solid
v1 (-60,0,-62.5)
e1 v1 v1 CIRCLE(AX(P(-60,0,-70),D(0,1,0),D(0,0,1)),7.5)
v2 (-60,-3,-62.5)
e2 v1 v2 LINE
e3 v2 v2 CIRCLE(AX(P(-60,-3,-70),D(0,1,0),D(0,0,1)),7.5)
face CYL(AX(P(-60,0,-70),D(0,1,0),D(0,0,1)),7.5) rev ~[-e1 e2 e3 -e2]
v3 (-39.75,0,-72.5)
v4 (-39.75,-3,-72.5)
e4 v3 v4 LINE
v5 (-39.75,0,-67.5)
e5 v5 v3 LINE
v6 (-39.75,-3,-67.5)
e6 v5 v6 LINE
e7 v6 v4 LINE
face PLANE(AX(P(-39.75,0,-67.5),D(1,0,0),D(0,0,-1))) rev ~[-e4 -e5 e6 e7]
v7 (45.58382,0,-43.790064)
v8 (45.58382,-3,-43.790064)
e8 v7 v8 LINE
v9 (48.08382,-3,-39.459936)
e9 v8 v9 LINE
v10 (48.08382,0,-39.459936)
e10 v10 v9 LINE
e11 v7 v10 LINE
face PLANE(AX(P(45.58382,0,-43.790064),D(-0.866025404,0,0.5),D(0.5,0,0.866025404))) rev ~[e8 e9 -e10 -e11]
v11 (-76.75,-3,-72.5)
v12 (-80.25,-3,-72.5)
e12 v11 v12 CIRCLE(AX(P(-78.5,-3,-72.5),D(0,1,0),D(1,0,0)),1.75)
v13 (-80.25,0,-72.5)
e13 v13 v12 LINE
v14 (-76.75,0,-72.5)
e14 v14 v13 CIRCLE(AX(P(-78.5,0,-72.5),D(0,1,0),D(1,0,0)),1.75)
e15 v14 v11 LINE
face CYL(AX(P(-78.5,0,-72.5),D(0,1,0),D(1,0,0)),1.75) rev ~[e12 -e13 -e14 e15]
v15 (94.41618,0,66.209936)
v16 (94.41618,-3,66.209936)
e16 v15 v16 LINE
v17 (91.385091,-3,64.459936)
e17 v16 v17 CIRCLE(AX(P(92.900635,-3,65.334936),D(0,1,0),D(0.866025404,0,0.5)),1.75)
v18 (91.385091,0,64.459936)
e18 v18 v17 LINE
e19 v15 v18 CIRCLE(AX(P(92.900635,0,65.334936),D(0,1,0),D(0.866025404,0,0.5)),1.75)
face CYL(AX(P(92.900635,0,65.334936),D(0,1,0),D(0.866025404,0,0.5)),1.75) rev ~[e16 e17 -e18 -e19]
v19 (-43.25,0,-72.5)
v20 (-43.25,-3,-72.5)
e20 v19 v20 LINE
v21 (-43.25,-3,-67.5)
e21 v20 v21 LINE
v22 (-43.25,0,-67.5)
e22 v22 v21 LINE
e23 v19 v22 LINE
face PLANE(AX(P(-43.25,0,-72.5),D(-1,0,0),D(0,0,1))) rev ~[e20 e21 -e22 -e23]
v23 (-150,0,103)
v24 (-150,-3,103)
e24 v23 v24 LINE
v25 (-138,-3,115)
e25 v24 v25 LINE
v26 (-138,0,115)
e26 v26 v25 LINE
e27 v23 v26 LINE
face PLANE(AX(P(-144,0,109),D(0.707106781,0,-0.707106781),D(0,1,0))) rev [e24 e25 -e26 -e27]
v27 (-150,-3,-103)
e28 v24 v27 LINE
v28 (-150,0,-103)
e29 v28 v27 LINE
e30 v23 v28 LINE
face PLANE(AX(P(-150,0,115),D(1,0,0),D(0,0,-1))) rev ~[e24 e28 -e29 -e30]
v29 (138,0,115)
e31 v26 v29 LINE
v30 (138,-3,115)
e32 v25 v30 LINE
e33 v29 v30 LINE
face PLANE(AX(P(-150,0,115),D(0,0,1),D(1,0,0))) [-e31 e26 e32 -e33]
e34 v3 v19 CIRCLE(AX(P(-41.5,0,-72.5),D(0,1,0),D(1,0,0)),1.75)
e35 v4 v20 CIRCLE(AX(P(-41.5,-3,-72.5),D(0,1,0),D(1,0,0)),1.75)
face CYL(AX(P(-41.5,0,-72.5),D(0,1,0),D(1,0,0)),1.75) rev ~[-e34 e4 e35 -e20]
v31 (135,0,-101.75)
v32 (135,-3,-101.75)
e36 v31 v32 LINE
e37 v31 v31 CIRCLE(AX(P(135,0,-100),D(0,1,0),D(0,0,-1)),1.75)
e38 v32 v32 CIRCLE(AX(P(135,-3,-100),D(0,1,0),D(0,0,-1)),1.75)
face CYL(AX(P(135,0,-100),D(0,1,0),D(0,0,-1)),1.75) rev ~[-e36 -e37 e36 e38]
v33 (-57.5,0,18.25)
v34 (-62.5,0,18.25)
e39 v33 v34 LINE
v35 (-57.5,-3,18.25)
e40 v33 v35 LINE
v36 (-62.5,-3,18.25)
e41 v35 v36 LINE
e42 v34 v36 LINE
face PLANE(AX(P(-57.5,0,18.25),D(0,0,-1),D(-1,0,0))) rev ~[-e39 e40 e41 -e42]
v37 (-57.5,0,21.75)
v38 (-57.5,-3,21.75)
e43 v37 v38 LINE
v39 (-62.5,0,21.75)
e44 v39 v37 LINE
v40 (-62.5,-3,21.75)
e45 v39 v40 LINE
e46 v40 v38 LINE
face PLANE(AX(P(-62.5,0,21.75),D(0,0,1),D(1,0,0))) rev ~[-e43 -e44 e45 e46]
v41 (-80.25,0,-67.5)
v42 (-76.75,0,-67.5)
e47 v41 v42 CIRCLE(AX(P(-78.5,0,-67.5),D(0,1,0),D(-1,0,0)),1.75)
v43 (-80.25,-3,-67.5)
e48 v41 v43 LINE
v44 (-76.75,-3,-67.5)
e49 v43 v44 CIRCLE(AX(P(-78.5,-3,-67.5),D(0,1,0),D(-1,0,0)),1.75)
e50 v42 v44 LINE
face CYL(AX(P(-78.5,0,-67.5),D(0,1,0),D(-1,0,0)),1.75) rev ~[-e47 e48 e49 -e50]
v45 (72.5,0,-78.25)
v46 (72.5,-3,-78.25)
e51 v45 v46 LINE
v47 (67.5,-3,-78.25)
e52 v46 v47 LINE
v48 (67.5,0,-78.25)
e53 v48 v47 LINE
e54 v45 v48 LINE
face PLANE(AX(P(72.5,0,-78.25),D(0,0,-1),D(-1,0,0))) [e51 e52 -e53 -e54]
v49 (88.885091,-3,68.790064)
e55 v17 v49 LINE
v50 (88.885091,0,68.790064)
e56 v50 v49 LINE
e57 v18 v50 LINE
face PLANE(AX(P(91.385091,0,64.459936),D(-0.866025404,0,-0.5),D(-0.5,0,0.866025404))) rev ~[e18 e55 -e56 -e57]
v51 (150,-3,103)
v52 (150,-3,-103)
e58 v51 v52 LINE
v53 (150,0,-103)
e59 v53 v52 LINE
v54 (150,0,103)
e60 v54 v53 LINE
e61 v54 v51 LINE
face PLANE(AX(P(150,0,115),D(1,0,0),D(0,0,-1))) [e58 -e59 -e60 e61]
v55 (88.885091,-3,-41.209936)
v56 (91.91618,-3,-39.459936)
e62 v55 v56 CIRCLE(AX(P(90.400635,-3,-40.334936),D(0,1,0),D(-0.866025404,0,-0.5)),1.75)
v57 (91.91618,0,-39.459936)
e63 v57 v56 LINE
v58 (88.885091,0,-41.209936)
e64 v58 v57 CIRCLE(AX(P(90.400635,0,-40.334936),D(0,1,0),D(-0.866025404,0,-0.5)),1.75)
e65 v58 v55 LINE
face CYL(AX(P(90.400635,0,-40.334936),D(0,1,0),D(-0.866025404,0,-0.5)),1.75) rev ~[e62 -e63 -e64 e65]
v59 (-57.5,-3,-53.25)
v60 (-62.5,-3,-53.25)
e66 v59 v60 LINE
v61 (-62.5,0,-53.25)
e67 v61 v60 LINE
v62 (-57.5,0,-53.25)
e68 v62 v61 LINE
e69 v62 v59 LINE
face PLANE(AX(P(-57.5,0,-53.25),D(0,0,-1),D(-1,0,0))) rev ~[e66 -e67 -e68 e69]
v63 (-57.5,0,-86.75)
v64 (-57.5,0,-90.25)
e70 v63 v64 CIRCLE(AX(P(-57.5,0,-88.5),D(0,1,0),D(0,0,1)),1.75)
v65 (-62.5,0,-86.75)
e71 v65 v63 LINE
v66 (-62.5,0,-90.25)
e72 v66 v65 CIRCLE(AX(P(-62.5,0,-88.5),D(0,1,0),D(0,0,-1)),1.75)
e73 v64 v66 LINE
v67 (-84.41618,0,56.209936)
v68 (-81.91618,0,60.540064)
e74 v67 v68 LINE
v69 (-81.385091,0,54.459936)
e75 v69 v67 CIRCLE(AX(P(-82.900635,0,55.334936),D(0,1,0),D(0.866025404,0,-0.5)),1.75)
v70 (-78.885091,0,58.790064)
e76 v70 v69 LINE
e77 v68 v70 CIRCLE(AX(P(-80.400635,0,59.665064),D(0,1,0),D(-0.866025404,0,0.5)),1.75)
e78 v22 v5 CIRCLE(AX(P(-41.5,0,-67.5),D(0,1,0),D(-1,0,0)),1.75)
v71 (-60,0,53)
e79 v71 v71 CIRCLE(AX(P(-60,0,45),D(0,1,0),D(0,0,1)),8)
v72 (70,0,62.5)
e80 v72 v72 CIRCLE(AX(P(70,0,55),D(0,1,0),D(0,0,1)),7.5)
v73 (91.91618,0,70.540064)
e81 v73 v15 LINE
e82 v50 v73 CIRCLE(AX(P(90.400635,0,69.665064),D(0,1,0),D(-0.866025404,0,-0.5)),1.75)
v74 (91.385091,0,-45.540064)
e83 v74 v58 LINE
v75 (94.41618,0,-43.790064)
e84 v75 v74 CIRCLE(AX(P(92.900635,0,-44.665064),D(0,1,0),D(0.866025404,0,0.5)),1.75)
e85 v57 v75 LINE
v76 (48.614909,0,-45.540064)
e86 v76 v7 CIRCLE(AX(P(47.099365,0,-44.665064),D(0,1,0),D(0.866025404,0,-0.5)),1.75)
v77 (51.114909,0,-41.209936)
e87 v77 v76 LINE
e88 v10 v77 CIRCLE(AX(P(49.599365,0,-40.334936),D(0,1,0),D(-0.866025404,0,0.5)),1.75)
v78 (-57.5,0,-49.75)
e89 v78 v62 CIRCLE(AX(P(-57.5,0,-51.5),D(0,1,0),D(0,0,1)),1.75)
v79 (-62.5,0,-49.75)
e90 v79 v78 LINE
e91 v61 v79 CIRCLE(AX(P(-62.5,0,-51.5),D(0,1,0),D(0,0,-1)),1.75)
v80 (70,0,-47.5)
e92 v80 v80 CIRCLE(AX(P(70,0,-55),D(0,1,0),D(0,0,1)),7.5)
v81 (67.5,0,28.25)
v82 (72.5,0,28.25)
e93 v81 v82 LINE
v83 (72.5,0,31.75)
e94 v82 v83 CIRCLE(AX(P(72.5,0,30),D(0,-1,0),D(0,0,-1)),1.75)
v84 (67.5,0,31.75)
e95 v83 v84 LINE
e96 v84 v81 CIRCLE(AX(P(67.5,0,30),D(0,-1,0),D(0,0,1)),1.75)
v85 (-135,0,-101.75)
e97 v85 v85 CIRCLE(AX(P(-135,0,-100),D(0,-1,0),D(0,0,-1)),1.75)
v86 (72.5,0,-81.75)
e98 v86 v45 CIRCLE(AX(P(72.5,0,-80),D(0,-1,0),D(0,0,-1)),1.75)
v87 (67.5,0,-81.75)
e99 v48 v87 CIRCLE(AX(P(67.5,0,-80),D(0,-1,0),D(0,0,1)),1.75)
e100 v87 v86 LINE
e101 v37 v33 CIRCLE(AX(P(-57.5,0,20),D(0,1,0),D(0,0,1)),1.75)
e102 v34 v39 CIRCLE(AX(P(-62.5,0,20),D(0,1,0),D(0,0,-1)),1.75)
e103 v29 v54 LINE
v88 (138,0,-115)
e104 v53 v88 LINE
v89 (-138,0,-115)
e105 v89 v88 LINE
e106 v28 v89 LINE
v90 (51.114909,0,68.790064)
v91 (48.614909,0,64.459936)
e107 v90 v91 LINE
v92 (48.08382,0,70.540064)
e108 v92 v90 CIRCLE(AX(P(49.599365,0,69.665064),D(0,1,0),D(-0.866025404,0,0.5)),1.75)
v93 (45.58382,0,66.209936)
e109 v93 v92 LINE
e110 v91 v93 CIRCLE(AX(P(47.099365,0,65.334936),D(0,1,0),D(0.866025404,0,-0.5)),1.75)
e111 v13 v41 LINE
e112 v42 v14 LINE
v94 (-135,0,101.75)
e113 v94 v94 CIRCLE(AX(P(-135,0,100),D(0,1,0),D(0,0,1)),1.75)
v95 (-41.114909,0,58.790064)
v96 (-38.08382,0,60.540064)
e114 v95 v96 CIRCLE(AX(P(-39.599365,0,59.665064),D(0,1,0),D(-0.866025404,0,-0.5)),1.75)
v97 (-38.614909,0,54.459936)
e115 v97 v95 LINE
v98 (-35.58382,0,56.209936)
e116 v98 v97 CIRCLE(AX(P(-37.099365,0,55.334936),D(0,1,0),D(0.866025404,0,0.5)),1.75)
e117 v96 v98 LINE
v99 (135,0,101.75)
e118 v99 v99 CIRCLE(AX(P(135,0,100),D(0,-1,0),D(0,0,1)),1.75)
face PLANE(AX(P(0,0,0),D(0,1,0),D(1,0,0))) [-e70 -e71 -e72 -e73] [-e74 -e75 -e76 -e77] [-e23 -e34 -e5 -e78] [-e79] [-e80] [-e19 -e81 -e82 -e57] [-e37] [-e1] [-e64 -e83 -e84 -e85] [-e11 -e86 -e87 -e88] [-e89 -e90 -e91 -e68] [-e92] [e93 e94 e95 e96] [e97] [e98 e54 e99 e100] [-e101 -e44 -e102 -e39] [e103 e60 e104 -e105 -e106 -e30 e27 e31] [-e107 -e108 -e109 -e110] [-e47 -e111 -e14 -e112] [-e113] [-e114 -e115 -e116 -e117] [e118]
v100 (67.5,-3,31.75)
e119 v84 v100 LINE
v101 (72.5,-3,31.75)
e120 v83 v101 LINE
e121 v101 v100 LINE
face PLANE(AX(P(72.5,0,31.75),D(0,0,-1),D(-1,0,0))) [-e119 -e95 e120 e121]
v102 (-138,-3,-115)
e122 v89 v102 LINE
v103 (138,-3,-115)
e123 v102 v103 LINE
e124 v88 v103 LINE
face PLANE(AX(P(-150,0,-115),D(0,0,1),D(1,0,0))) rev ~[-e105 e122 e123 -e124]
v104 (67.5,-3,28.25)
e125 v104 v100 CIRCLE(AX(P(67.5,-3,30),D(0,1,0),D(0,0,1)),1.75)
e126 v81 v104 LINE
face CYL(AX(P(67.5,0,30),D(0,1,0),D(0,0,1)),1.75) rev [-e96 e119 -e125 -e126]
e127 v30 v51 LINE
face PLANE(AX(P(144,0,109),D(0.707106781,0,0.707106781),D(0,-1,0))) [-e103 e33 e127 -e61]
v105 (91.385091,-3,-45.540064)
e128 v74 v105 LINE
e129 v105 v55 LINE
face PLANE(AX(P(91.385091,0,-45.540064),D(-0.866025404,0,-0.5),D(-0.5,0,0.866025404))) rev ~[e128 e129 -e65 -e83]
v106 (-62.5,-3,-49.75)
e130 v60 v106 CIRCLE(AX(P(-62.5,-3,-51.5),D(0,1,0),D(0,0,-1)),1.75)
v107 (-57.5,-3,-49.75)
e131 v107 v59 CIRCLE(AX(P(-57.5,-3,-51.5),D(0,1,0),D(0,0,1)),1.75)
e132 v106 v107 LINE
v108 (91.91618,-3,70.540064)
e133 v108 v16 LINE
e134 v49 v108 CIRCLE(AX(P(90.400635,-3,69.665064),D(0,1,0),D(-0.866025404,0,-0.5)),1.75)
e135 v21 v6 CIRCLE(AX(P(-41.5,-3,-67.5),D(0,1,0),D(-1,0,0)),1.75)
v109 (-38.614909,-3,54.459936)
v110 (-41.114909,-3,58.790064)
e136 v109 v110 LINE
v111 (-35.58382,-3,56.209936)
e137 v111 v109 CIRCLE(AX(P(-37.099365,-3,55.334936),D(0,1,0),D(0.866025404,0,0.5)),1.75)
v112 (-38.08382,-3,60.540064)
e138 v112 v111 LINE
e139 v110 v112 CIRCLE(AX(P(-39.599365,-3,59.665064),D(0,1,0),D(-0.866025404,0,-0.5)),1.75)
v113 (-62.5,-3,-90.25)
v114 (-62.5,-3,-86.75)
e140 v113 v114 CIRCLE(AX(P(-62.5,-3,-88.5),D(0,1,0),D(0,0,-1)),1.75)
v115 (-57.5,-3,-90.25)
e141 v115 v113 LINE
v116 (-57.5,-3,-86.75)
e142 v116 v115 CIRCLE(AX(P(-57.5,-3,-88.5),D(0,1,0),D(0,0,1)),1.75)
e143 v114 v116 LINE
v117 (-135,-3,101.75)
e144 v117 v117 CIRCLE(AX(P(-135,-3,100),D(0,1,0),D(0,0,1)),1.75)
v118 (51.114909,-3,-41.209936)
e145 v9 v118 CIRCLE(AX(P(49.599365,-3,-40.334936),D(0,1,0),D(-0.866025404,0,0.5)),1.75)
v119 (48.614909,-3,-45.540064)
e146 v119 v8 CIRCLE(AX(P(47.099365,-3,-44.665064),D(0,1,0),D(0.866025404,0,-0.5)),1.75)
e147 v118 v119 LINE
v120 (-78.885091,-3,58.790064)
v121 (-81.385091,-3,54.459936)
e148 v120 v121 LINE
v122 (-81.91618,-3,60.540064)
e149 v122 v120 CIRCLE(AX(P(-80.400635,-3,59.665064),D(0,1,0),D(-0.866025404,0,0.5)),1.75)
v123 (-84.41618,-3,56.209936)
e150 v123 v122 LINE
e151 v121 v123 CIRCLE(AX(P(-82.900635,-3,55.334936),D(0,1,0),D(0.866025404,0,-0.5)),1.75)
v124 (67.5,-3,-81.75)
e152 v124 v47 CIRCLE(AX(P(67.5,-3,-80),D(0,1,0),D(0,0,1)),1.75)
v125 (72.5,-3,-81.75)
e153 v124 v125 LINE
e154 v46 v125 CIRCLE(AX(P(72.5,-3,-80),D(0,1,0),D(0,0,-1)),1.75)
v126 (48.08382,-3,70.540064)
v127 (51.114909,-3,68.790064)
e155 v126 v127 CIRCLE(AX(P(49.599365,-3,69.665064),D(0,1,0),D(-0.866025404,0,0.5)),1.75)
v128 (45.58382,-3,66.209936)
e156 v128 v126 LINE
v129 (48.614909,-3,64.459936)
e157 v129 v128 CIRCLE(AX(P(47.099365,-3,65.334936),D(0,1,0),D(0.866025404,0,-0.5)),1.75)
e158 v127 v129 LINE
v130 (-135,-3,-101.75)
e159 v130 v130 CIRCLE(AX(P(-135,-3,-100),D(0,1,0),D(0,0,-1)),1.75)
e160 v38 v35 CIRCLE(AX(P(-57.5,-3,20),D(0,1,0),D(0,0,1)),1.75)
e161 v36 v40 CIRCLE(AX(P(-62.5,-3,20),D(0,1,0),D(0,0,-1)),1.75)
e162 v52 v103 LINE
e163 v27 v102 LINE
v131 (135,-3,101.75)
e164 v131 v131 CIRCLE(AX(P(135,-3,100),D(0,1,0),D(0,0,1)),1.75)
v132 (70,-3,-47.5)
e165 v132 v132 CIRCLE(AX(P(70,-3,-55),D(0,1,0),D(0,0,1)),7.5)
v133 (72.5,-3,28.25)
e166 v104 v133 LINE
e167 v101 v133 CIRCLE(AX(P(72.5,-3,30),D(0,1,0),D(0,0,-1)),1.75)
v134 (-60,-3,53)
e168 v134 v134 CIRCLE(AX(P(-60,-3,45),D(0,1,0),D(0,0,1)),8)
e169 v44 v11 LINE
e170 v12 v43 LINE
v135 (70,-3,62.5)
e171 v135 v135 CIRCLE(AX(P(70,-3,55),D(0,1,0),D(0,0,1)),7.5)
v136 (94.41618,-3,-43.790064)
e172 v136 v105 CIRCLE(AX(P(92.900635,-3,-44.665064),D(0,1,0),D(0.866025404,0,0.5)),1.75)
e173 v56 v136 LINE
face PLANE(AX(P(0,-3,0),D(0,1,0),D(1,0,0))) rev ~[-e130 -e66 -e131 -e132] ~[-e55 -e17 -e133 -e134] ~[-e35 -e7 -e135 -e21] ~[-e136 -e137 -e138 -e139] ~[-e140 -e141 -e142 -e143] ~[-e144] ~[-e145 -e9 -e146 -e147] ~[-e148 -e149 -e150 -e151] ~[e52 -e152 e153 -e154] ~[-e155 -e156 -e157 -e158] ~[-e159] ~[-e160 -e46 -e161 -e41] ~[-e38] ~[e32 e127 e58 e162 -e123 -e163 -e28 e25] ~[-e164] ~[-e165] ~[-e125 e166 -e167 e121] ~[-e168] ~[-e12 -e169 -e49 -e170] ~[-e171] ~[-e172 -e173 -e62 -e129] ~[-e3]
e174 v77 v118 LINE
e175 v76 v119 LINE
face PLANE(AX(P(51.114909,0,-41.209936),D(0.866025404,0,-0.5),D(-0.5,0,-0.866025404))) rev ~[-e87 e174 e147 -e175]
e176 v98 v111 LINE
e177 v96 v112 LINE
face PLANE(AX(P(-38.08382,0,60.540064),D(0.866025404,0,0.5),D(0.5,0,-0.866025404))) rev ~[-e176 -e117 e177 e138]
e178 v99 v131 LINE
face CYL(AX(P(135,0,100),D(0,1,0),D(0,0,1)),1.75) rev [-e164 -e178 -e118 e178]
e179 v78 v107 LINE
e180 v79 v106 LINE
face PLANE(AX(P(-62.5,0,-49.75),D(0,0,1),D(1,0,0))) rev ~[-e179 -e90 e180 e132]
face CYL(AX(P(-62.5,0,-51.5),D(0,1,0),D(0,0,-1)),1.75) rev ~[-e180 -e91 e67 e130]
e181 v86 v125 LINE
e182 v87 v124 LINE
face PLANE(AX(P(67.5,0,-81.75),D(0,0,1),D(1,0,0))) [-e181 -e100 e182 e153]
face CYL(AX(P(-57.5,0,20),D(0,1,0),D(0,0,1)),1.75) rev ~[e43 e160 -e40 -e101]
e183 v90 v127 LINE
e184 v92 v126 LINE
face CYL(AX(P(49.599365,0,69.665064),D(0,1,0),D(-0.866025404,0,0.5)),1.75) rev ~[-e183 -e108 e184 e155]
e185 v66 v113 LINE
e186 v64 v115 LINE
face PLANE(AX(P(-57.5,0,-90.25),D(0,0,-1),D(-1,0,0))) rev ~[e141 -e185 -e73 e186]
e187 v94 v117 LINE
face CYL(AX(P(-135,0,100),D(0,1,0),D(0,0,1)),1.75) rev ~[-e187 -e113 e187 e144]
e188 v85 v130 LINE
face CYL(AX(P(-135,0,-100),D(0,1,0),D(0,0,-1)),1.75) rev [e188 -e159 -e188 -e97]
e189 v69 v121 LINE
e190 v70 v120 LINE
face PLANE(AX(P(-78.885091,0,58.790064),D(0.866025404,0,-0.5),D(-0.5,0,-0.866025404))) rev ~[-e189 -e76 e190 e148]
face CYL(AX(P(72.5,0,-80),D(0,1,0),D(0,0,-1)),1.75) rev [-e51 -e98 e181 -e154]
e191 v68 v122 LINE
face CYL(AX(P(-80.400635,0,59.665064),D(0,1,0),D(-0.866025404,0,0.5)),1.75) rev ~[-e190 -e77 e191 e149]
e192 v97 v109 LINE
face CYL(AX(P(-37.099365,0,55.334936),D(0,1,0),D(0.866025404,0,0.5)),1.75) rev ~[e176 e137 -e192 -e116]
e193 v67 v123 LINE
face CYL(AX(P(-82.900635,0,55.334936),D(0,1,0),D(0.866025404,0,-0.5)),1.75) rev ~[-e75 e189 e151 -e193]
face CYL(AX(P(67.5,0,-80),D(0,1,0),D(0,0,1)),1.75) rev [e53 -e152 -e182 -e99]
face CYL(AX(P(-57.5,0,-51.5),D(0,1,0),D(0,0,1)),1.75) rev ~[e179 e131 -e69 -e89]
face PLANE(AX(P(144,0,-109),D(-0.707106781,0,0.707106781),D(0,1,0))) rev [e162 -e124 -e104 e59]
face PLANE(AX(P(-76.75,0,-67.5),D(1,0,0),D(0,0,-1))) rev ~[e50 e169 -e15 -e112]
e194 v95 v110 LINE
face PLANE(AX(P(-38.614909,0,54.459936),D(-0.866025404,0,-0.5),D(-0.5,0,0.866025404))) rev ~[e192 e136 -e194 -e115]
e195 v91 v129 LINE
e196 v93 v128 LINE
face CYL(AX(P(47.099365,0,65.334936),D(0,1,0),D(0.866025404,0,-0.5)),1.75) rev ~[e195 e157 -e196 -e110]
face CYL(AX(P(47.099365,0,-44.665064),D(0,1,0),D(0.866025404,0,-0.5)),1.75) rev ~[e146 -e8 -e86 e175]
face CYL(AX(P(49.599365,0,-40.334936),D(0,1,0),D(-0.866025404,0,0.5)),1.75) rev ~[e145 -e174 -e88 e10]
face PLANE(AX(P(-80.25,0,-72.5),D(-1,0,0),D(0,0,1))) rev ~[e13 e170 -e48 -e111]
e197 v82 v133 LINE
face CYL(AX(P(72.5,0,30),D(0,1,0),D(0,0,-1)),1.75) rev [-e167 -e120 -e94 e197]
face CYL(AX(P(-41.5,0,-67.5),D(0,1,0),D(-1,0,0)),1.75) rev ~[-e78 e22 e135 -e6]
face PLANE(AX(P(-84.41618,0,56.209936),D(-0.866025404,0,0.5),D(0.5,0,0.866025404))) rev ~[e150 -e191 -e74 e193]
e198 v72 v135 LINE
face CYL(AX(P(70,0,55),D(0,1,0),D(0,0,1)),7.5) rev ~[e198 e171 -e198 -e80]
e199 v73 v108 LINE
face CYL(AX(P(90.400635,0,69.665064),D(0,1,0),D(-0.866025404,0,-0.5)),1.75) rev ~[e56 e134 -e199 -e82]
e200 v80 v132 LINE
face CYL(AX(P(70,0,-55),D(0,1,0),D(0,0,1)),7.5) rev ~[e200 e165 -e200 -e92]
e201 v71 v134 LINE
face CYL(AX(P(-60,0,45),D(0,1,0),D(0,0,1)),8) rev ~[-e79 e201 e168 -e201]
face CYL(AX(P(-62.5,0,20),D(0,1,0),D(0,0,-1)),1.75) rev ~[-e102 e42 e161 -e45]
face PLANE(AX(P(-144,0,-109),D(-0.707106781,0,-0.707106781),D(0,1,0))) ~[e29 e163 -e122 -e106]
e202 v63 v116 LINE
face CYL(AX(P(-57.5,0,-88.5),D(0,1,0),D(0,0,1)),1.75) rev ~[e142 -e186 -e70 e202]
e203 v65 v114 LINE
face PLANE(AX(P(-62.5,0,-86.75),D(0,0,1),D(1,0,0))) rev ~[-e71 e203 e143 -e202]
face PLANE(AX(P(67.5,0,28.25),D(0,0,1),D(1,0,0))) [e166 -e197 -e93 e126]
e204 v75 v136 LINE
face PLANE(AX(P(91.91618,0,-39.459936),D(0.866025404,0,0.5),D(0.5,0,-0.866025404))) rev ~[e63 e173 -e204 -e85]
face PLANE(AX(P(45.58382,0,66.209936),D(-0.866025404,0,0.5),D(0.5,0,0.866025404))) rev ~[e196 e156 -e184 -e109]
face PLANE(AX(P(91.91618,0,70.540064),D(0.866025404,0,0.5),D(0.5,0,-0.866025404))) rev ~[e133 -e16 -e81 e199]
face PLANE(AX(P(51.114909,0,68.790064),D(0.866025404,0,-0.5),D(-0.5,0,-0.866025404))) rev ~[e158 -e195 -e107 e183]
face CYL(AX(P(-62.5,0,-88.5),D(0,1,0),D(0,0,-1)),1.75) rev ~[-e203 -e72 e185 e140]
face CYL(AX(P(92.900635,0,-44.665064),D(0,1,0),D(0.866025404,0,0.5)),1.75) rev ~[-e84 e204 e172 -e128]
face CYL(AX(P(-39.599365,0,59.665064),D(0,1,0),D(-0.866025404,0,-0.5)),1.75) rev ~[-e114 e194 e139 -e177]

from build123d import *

# Parameters (mm, degrees)
ESBO_O1_W                 = 300
ESBO_O1_H                 = 230
RESSALTO_EXTRUS_O1_DEPTH  = 3
CHANFRO1_SIZE             = 12
ESBO_O4_R                 = 8
ESBO_O4_R_2               = 7.5
CORTE_EXTRUS_O1_DEPTH     = 190.034388406
ESBO_O5_R                 = 1.75
CORTE_EXTRUS_O2_DEPTH     = 190.034388406
ESPELHAR2_COPY_1_SKETCH_R = 1.75
ESPELHAR2_COPY_1_DEPTH    = 190.034388406


with BuildPart() as part:
    # Esboço1 → Ressalto-extrusão1 (new body)
    with BuildSketch(Plane(origin=(0, 0, 0), x_dir=(1, 0, 0), z_dir=(0, 1, 0))):
        Rectangle(ESBO_O1_W, ESBO_O1_H)
    extrude(amount=-RESSALTO_EXTRUS_O1_DEPTH)

    # Chanfro1
    chanfro1_edges = [part.edges().sort_by_distance(p)[0] for p in [
        (150, -1.5, 115),
        (-150, -1.5, 115),
        (-150, -1.5, -115),
        (150, -1.5, -115),
    ]]
    chamfer(chanfro1_edges, length=CHANFRO1_SIZE)

    # Esboço4 → Corte-extrusão1 (cut, through all)
    with BuildSketch(Plane(origin=(0, 0, 0), x_dir=(1, 0, 0), z_dir=(0, 1, 0))):
        with Locations(Location((-60, -45, 0), (0, 0, 270))):
            Circle(ESBO_O4_R)
        with Locations(Location((70, -55, 0), (0, 0, 270))):
            Circle(ESBO_O4_R_2)
        with Locations(Location((70, 55, 0), (0, 0, 270))):
            Circle(ESBO_O4_R_2)
        with Locations(Location((-60, 70, 0), (0, 0, 270))):
            Circle(ESBO_O4_R_2)
        with BuildLine():
            Line((-62.5, -21.75), (-57.5, -21.75))
            ThreePointArc((-57.5, -21.75), (-55.75, -20), (-57.5, -18.25))
            Line((-57.5, -18.25), (-62.5, -18.25))
            ThreePointArc((-62.5, -18.25), (-64.25, -20), (-62.5, -21.75))
        make_face()
        with BuildLine():
            Line((-38.614909362, -54.459936491), (-41.114909362, -58.790063509))
            ThreePointArc((-41.114909362, -58.790063509), (-40.474364905, -61.180607966), (-38.083820449, -60.540063509))
            Line((-38.083820449, -60.540063509), (-35.583820449, -56.209936491))
            ThreePointArc((-35.583820449, -56.209936491), (-36.224364905, -53.819392034), (-38.614909362, -54.459936491))
        make_face()
        with BuildLine():
            Line((-78.885090638, -58.790063509), (-81.385090638, -54.459936491))
            ThreePointArc((-81.385090638, -54.459936491), (-83.775635095, -53.819392034), (-84.416179551, -56.209936491))
            Line((-84.416179551, -56.209936491), (-81.916179551, -60.540063509))
            ThreePointArc((-81.916179551, -60.540063509), (-79.525635095, -61.180607966), (-78.885090638, -58.790063509))
        make_face()
        with BuildLine():
            Line((67.5, -28.25), (72.5, -28.25))
            ThreePointArc((72.5, -28.25), (74.25, -30), (72.5, -31.75))
            Line((72.5, -31.75), (67.5, -31.75))
            ThreePointArc((67.5, -31.75), (65.75, -30), (67.5, -28.25))
        make_face()
        with BuildLine():
            Line((91.385090638, -64.459936491), (88.885090638, -68.790063509))
            ThreePointArc((88.885090638, -68.790063509), (89.525635095, -71.180607966), (91.916179551, -70.540063509))
            Line((91.916179551, -70.540063509), (94.416179551, -66.209936491))
            ThreePointArc((94.416179551, -66.209936491), (93.775635095, -63.819392034), (91.385090638, -64.459936491))
        make_face()
        with BuildLine():
            Line((51.114909362, -68.790063509), (48.614909362, -64.459936491))
            ThreePointArc((48.614909362, -64.459936491), (46.224364905, -63.819392034), (45.583820449, -66.209936491))
            Line((45.583820449, -66.209936491), (48.083820449, -70.540063509))
            ThreePointArc((48.083820449, -70.540063509), (50.474364905, -71.180607966), (51.114909362, -68.790063509))
        make_face()
        with BuildLine():
            Line((67.5, 81.75), (72.5, 81.75))
            ThreePointArc((72.5, 81.75), (74.25, 80), (72.5, 78.25))
            Line((72.5, 78.25), (67.5, 78.25))
            ThreePointArc((67.5, 78.25), (65.75, 80), (67.5, 81.75))
        make_face()
        with BuildLine():
            Line((91.385090638, 45.540063509), (88.885090638, 41.209936491))
            ThreePointArc((88.885090638, 41.209936491), (89.525635095, 38.819392034), (91.916179551, 39.459936491))
            Line((91.916179551, 39.459936491), (94.416179551, 43.790063509))
            ThreePointArc((94.416179551, 43.790063509), (93.775635095, 46.180607966), (91.385090638, 45.540063509))
        make_face()
        with BuildLine():
            Line((51.114909362, 41.209936491), (48.614909362, 45.540063509))
            ThreePointArc((48.614909362, 45.540063509), (46.224364905, 46.180607966), (45.583820449, 43.790063509))
            Line((45.583820449, 43.790063509), (48.083820449, 39.459936491))
            ThreePointArc((48.083820449, 39.459936491), (50.474364905, 38.819392034), (51.114909362, 41.209936491))
        make_face()
        with BuildLine():
            Line((-62.5, 86.75), (-57.5, 86.75))
            ThreePointArc((-57.5, 86.75), (-55.75, 88.5), (-57.5, 90.25))
            Line((-57.5, 90.25), (-62.5, 90.25))
            ThreePointArc((-62.5, 90.25), (-64.25, 88.5), (-62.5, 86.75))
        make_face()
        with BuildLine():
            Line((-43.25, 72.5), (-43.25, 67.5))
            ThreePointArc((-43.25, 67.5), (-41.5, 65.75), (-39.75, 67.5))
            Line((-39.75, 67.5), (-39.75, 72.5))
            ThreePointArc((-39.75, 72.5), (-41.5, 74.25), (-43.25, 72.5))
        make_face()
        with BuildLine():
            Line((-57.5, 53.25), (-62.5, 53.25))
            ThreePointArc((-62.5, 53.25), (-64.25, 51.5), (-62.5, 49.75))
            Line((-62.5, 49.75), (-57.5, 49.75))
            ThreePointArc((-57.5, 49.75), (-55.75, 51.5), (-57.5, 53.25))
        make_face()
        with BuildLine():
            Line((-76.75, 67.5), (-76.75, 72.5))
            ThreePointArc((-76.75, 72.5), (-78.5, 74.25), (-80.25, 72.5))
            Line((-80.25, 72.5), (-80.25, 67.5))
            ThreePointArc((-80.25, 67.5), (-78.5, 65.75), (-76.75, 67.5))
        make_face()
    extrude(amount=-CORTE_EXTRUS_O1_DEPTH, mode=Mode.SUBTRACT)

    # Esboço5 → Corte-extrusão2 (cut, through all)
    with BuildSketch(Plane(origin=(0, 0, 0), x_dir=(1, 0, 0), z_dir=(0, 1, 0))):
        with Locations(Location((-135, -100, 0), (0, 0, 270))):
            Circle(ESBO_O5_R)
    corte_extrus_o2 = extrude(amount=-CORTE_EXTRUS_O2_DEPTH, mode=Mode.SUBTRACT)

    # Espelhar1: Corte-extrusão2 across plane
    add(corte_extrus_o2.mirror(Plane.XY), mode=Mode.SUBTRACT)

    # Espelhar2: Corte-extrusão2 across plane
    add(corte_extrus_o2.mirror(Plane(origin=(0, 0, 0), x_dir=(0, 0, 1), z_dir=(1, 0, 0))), mode=Mode.SUBTRACT)

    # Espelhar2 copy 1 sketch → Espelhar2 copy 1 (cut, through all)
    with BuildSketch(Plane(origin=(0, 0, 0), x_dir=(-1, 0, 0), z_dir=(0, 1, 0))):
        with Locations(Location((-135, -100, 0), (0, 0, 270))):
            Circle(ESPELHAR2_COPY_1_SKETCH_R)
    extrude(amount=-ESPELHAR2_COPY_1_DEPTH, mode=Mode.SUBTRACT)


solid = part.part
